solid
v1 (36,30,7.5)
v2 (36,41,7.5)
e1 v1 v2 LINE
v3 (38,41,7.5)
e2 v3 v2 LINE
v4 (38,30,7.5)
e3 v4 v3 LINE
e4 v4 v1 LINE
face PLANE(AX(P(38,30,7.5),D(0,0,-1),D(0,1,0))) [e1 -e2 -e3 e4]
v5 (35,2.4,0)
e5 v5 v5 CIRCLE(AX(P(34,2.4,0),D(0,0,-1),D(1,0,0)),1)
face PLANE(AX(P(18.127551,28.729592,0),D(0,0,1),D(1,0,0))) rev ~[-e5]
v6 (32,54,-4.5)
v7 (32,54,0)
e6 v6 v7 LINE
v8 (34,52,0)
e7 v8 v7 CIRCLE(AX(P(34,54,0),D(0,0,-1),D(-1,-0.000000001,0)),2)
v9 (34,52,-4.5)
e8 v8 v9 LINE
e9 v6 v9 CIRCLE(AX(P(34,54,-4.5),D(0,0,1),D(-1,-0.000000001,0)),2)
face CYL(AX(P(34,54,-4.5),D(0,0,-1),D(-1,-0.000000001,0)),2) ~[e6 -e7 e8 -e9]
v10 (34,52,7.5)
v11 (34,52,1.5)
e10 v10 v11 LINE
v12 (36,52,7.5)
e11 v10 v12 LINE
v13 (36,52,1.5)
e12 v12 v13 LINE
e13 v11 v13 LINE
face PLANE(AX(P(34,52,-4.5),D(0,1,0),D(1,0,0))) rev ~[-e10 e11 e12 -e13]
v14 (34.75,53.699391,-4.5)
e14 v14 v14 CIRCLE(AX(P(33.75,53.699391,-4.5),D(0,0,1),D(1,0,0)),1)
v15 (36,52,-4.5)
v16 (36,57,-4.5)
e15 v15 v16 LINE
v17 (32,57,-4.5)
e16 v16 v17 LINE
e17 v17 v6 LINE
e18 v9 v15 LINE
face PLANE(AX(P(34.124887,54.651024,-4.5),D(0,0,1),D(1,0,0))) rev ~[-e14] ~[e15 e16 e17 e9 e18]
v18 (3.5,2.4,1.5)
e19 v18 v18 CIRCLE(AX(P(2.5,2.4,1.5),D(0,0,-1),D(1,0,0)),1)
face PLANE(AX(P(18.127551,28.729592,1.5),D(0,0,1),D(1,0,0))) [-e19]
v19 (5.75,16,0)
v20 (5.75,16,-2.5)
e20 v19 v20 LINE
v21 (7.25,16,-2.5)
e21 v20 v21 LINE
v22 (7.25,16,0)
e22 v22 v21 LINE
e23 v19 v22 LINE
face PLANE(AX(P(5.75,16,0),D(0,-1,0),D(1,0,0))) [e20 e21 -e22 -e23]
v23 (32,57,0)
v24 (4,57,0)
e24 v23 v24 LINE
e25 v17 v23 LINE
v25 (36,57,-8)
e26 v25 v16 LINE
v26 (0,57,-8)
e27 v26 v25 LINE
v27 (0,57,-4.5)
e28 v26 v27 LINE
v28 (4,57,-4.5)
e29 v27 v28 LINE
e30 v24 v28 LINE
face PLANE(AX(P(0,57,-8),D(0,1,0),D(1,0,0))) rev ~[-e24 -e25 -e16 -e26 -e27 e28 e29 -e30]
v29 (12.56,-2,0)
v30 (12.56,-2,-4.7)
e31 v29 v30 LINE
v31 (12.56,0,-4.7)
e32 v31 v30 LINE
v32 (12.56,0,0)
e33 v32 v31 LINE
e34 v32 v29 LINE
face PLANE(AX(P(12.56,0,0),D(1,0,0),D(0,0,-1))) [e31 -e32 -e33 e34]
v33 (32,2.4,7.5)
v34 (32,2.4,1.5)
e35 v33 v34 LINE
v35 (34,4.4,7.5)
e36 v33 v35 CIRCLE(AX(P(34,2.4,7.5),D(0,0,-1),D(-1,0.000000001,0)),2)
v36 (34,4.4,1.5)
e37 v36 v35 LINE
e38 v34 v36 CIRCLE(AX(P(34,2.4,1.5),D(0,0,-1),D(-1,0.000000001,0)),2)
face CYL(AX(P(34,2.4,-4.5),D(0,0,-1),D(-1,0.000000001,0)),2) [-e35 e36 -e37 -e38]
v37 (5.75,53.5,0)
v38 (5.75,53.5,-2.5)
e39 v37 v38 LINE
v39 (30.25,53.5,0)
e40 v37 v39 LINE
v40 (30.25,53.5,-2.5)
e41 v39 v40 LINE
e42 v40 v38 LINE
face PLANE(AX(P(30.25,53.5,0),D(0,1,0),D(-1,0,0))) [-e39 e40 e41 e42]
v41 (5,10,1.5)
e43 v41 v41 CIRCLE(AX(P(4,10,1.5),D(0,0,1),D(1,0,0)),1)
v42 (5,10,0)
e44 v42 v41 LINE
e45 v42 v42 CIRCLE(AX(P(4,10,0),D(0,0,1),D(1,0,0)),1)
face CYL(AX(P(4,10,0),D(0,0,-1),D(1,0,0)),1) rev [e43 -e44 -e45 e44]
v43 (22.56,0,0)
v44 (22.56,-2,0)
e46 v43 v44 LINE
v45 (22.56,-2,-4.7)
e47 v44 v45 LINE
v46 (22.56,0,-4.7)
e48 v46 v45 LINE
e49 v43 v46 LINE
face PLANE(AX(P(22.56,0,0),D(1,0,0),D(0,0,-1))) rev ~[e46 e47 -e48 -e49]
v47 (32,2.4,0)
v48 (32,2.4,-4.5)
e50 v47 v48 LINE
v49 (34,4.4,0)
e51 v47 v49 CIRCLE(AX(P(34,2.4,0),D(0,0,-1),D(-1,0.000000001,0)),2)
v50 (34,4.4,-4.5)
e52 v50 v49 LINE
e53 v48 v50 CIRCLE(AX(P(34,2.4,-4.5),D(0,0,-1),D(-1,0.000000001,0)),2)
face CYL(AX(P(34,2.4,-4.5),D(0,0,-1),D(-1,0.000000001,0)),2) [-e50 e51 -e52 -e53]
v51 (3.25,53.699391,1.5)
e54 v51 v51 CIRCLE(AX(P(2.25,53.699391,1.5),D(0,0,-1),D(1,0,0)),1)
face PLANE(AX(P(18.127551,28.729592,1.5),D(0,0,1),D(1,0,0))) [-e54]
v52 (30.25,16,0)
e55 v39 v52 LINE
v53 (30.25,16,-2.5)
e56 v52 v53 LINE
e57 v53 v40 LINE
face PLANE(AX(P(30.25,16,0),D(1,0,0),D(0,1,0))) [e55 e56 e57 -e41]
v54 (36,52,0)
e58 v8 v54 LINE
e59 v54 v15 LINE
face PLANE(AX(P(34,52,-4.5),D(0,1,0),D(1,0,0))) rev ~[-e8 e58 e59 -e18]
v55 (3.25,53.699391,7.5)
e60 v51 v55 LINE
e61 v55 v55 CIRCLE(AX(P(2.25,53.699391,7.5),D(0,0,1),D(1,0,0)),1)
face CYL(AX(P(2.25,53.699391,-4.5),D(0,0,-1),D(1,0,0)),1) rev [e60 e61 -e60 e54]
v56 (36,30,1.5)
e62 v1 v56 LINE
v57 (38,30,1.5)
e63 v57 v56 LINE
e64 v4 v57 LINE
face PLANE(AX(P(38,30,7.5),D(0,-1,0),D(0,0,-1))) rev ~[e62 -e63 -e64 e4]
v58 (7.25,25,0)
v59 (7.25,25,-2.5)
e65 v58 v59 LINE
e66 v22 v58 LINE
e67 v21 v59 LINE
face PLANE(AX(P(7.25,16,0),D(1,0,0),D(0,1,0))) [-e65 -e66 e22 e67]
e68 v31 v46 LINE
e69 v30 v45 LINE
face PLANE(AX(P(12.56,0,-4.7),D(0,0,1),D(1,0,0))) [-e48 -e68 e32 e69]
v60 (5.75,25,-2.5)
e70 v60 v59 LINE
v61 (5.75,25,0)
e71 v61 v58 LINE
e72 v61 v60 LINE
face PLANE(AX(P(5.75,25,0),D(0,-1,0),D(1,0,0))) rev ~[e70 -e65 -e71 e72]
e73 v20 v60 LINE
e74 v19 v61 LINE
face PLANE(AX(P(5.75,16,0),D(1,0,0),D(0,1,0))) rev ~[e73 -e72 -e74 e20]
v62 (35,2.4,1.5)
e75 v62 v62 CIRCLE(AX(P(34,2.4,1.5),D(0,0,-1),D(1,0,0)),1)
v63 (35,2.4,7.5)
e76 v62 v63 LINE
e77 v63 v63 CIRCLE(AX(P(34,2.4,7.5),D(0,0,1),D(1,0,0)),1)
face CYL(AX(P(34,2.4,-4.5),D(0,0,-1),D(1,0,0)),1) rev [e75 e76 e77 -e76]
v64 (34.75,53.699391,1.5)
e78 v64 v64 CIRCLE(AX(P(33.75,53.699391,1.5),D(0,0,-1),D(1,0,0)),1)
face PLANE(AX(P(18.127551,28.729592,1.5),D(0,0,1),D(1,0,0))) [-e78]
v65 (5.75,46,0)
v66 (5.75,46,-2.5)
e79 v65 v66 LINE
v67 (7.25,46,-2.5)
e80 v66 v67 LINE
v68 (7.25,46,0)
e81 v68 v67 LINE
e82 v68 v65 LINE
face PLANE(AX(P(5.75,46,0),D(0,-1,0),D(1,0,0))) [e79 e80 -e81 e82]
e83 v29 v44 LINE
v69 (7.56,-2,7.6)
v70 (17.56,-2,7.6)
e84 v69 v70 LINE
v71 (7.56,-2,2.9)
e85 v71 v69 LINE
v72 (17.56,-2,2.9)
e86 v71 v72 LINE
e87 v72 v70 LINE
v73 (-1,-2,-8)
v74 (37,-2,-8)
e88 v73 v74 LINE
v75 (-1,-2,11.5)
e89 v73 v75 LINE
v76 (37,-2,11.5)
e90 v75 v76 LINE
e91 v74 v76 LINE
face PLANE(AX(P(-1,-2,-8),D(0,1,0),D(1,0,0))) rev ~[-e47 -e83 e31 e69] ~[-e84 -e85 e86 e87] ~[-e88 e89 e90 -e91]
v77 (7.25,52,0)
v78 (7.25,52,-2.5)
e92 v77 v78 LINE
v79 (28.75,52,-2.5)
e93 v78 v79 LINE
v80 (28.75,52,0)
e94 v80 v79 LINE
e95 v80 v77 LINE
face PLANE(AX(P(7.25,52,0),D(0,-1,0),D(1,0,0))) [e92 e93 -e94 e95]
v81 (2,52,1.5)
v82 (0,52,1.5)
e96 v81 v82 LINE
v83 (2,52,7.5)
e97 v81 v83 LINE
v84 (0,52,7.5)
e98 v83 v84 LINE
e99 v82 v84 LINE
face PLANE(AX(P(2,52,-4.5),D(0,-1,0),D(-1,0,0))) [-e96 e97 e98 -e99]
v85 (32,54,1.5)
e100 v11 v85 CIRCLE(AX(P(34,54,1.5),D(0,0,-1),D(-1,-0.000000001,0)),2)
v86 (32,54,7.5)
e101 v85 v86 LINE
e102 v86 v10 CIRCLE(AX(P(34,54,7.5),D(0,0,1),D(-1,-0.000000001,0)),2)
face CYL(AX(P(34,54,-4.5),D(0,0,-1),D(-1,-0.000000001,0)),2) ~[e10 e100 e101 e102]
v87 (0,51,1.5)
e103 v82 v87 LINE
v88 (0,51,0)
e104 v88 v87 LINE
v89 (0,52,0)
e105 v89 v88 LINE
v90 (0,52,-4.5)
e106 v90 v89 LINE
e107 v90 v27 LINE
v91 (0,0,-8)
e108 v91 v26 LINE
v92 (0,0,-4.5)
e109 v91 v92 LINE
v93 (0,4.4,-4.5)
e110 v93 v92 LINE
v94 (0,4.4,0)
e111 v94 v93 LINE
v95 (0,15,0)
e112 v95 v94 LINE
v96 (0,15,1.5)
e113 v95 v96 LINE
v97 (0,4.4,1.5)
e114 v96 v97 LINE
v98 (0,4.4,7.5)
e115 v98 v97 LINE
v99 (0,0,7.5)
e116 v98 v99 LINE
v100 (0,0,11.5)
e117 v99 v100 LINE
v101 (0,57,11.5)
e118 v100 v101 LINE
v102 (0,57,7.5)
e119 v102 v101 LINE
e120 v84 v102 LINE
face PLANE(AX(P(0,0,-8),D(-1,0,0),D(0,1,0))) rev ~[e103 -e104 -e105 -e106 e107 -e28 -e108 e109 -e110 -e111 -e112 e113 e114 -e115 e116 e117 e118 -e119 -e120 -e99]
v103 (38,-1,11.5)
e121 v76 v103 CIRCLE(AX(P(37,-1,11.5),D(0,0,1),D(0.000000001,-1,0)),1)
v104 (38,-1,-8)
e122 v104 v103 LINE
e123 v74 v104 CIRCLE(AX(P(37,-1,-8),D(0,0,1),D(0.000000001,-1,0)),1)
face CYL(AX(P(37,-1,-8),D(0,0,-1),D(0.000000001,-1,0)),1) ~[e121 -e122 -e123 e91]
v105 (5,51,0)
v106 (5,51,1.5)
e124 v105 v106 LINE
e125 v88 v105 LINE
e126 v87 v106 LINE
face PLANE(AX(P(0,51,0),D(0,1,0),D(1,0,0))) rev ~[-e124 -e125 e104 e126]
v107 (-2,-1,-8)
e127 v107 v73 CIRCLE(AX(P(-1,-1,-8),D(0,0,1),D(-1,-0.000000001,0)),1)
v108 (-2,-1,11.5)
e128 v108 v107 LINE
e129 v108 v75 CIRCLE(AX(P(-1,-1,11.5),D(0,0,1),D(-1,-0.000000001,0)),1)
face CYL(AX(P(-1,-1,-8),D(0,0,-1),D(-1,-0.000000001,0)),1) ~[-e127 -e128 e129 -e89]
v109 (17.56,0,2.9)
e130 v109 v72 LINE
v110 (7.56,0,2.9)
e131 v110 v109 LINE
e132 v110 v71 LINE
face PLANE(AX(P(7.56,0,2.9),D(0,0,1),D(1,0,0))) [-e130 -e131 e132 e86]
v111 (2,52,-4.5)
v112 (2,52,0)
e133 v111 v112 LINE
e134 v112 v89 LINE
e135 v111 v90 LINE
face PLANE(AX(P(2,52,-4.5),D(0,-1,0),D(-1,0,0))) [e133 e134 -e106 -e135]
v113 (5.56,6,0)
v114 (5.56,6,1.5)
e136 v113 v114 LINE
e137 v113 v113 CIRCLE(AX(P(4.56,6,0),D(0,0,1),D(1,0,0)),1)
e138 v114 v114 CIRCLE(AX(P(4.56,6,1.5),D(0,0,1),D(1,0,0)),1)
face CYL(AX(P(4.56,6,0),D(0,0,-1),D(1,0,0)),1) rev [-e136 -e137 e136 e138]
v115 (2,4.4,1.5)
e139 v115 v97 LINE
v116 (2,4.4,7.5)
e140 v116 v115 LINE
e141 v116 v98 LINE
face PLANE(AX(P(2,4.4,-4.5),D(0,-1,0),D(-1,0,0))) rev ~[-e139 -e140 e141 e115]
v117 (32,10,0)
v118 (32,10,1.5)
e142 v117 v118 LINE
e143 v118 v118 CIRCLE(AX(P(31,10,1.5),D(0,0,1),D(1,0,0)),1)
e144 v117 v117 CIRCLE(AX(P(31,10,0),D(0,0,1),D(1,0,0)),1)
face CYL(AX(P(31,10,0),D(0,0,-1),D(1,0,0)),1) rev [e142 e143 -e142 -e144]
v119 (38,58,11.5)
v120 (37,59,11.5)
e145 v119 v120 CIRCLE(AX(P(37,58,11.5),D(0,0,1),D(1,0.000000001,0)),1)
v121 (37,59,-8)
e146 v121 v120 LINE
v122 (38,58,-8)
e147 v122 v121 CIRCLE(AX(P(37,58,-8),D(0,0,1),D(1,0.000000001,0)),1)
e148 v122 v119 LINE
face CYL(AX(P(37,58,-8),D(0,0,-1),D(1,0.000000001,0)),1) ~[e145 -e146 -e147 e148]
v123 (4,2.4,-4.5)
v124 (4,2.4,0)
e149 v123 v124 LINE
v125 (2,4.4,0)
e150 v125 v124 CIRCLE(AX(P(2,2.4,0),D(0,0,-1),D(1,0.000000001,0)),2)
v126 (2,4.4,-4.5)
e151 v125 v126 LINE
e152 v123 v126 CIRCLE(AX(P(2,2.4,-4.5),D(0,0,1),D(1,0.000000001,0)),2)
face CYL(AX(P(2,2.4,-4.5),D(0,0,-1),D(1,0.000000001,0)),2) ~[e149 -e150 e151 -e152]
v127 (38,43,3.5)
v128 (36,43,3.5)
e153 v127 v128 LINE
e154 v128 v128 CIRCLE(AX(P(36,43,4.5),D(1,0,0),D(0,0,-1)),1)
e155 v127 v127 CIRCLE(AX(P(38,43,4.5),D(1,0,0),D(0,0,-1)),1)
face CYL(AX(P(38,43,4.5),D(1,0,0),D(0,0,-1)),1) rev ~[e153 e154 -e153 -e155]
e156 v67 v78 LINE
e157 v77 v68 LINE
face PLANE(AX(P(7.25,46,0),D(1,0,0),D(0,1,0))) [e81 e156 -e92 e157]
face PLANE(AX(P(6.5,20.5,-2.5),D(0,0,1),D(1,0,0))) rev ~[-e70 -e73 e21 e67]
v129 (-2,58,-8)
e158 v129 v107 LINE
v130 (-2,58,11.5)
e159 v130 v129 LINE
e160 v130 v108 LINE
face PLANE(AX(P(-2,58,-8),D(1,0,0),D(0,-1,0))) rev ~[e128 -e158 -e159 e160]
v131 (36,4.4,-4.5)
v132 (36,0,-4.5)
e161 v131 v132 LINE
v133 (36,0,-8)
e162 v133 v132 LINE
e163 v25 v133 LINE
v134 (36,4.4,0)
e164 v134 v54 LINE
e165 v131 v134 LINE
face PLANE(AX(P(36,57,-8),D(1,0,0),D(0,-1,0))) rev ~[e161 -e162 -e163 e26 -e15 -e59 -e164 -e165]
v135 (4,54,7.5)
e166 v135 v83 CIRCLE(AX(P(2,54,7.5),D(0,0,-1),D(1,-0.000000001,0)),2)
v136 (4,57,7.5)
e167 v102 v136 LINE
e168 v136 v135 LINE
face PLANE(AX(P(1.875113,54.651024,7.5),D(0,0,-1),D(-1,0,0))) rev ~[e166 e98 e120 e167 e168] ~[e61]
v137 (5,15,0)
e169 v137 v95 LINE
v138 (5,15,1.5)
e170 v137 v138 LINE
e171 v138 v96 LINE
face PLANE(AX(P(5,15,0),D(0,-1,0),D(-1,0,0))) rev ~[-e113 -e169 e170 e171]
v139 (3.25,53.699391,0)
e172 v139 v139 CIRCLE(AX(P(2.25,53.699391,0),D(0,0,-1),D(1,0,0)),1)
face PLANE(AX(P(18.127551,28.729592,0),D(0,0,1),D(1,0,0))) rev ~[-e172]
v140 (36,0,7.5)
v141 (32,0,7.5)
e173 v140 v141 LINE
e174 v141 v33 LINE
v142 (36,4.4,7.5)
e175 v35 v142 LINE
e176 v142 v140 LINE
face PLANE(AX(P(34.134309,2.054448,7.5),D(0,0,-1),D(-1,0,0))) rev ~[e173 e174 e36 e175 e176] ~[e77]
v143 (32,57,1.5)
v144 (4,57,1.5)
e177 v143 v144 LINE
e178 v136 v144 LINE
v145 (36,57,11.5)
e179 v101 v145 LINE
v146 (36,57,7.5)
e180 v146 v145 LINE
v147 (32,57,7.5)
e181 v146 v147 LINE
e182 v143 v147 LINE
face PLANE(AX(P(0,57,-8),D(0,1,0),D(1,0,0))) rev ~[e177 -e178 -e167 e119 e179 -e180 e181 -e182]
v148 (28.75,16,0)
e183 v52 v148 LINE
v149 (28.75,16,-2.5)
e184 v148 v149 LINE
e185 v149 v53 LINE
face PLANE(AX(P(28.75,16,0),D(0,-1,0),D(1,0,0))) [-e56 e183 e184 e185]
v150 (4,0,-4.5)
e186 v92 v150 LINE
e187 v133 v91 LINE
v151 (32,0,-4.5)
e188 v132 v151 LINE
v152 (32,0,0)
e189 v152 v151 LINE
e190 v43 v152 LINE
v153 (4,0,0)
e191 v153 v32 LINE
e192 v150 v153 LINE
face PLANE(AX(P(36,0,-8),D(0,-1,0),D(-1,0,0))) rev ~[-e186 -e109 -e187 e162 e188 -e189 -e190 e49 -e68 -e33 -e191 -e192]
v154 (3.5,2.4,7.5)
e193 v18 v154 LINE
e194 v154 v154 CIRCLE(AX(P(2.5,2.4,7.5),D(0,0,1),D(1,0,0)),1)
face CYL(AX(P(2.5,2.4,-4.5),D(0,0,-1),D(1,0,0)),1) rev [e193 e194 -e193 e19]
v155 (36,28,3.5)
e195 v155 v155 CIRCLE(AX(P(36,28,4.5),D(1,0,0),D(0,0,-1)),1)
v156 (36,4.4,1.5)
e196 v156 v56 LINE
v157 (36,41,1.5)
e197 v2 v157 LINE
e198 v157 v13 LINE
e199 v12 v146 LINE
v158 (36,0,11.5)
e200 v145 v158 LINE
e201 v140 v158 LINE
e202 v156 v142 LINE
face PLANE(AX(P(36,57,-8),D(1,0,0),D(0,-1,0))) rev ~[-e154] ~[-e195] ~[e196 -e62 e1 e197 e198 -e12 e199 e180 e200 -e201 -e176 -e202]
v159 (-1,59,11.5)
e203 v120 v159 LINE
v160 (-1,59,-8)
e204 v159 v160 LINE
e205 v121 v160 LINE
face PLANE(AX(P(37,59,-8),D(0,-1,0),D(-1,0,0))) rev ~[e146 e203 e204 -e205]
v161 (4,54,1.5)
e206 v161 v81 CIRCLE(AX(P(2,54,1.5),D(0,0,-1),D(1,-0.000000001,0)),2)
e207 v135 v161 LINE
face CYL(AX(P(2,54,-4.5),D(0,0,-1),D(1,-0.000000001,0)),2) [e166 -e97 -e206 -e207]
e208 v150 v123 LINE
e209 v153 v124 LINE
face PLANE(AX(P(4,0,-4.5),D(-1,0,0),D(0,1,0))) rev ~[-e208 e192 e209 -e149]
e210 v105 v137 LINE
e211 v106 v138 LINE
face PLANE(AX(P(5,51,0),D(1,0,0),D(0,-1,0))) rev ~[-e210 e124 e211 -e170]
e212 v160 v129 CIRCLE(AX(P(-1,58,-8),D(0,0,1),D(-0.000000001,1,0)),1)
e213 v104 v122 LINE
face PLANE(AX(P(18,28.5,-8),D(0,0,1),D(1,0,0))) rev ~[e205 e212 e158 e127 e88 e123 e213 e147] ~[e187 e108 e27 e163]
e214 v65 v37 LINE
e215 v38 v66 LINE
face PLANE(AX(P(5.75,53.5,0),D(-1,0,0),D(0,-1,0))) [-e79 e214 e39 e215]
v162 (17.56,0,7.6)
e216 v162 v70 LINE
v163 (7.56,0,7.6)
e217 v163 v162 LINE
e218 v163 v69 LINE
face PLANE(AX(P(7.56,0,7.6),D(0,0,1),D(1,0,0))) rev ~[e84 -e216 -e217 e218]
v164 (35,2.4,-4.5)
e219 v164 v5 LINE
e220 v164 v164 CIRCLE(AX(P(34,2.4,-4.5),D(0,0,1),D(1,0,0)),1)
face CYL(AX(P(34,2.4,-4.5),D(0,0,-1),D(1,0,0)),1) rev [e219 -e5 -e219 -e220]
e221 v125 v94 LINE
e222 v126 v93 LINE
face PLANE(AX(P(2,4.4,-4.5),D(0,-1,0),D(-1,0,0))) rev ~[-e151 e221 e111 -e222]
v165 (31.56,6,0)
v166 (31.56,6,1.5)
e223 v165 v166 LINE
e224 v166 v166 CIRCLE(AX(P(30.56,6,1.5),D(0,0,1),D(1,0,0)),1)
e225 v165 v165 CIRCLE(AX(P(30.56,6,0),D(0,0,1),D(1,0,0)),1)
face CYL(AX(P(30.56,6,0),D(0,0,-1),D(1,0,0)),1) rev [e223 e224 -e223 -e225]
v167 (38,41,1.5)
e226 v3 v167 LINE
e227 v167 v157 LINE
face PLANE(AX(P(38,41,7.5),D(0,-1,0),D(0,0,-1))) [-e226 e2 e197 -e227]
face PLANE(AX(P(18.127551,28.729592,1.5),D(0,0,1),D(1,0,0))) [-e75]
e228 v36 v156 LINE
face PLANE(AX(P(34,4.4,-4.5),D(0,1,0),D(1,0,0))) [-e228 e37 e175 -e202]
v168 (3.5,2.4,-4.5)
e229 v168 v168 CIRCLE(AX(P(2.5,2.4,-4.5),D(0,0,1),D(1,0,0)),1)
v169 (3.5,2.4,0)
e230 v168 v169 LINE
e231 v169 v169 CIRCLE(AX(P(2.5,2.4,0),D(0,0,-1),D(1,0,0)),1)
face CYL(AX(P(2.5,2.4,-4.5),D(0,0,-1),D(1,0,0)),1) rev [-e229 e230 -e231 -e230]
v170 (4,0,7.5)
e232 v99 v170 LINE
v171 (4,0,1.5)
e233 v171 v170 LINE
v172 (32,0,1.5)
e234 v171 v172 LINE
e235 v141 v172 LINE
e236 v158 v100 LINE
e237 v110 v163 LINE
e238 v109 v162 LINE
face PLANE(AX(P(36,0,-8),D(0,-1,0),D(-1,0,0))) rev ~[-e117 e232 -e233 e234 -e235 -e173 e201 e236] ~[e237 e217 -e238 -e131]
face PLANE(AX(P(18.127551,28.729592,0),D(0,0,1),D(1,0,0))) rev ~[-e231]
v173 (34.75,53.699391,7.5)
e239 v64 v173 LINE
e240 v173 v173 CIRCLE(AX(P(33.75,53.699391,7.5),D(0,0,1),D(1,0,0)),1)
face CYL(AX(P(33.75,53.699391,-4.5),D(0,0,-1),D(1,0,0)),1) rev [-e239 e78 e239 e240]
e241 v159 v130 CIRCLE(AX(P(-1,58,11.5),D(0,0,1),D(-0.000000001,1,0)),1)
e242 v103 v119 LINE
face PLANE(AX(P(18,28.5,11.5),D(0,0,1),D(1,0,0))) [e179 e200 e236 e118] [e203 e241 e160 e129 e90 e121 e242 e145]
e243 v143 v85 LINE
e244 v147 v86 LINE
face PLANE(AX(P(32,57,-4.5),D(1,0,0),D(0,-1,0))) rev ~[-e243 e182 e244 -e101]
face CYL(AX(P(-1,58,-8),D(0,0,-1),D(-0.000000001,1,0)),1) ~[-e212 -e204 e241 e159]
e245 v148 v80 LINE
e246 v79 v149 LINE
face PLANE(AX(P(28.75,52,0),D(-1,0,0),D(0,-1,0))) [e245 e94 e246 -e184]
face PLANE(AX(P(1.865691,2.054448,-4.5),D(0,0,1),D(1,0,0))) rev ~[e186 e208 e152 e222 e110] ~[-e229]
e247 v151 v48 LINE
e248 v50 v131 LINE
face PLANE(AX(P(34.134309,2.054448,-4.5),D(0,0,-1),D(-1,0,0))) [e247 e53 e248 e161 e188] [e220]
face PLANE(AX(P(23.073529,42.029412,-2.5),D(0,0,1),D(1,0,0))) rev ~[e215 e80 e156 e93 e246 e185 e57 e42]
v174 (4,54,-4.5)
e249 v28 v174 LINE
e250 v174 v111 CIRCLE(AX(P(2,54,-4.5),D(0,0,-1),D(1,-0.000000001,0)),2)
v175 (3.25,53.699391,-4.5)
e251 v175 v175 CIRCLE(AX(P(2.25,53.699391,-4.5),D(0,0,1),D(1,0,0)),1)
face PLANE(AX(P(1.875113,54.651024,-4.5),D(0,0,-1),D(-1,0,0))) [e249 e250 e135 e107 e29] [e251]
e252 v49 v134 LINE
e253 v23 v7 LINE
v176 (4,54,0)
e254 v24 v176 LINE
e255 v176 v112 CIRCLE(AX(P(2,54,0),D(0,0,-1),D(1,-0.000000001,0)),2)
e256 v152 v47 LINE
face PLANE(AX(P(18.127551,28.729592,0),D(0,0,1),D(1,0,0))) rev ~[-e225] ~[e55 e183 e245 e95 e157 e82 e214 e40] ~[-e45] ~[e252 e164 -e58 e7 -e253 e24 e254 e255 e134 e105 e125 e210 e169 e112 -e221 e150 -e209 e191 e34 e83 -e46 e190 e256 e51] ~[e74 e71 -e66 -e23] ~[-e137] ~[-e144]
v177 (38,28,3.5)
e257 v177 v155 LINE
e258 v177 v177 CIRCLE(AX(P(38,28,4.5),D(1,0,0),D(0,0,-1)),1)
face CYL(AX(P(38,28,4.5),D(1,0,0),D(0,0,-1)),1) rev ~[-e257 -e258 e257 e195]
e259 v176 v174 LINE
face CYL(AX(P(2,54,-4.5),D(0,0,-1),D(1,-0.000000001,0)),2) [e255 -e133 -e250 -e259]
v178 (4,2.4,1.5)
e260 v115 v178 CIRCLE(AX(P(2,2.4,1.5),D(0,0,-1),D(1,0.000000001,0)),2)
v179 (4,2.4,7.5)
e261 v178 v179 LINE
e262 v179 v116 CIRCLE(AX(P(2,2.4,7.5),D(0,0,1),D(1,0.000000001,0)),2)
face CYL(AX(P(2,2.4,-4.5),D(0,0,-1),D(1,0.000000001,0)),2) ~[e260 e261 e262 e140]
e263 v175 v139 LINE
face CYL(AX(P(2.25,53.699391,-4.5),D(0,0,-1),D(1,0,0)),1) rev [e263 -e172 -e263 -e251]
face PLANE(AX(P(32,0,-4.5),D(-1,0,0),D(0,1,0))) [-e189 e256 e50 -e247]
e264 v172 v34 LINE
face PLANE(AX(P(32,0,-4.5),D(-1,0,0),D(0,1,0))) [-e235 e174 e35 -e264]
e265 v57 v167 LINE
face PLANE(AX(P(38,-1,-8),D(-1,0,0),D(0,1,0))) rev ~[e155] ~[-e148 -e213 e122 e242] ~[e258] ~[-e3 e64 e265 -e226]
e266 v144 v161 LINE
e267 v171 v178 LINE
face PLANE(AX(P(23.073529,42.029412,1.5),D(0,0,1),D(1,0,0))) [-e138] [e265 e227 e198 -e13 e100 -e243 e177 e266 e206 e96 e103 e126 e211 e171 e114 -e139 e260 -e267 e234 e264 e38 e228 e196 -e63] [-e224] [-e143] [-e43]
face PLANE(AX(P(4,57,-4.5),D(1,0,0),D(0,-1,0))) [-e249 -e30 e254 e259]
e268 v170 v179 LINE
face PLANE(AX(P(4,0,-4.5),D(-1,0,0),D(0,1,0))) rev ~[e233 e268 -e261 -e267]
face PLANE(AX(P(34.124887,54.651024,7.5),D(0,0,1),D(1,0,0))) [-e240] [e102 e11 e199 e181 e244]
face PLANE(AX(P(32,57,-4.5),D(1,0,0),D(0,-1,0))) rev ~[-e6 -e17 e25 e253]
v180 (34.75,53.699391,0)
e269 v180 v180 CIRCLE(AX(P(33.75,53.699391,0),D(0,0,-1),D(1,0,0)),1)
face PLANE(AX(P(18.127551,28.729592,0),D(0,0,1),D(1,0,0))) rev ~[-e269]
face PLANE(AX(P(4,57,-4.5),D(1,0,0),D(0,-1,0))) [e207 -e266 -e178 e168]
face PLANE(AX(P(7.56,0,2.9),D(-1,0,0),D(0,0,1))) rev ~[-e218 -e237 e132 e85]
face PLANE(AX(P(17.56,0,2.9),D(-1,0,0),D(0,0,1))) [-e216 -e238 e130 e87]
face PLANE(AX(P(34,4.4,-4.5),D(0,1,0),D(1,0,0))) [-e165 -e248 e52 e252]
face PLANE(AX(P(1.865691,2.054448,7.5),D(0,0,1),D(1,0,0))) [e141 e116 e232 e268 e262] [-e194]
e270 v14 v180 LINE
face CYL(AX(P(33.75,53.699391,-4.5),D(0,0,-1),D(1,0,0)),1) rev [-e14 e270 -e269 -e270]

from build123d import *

# Parameters (mm, degrees)
SKETCH_2_R             = 1
EXTRUDE_2250_DEPTH     = 7.5
EXTRUDE_2250_2_DEPTH   = 7.5
EXTRUDE_2250_3_DEPTH   = 7.5
EXTRUDE_2250_4_DEPTH   = 7.5
EXTRUDE_START          = -4.5
SKETCH_2_5_R           = 1
EXTRUDE_2650_DEPTH     = 4.5
EXTRUDE_2650_2_DEPTH   = 4.5
EXTRUDE_2650_3_DEPTH   = 4.5
EXTRUDE_2650_4_DEPTH   = 4.5
EXTRUDE_2769_DEPTH     = 11.5
SKETCH_15_W            = 10
SKETCH_15_H            = 4.7
CUT_EXTRUDE_2936_DEPTH = 2
ESP32_START            = -8
ESP32_DEPTH            = 8
ESP32_3_W              = 10
ESP32_3_H              = 4.7
ESP32_2_DEPTH          = 2
SKETCH_1_29_R          = 1
SKETCH_1_29_W          = 1.5
SKETCH_1_29_H          = 9
EXTRUDE_3195_DEPTH     = 1.5
EXTRUDE_3_DEPTH        = 2.5
SKETCH_1_30_W          = 1.5
SKETCH_1_30_H          = 9
EXTRUDE_3_2_DEPTH      = 2.5
SKETCH_1_31_W          = 1.5
SKETCH_1_31_H          = 9
EXTRUDE_4_DEPTH        = 1.5
SKETCH_18_R            = 1
SKETCH_18_W            = 6
SKETCH_18_H            = 11
CUT_EXTRUDE_4645_DEPTH = 2


with BuildPart() as part:
    # 草图2 → Extrude 2250 (new body)
    with BuildSketch(Plane.XY):
        with BuildLine():
            Line((0, 0), (4, 0))
            Line((4, 0), (4, 2.4))
            ThreePointArc((4, 2.4), (3.414213562, 3.814213562), (2, 4.4))
            Line((2, 4.4), (0, 4.4))
            Line((0, 4.4), (0, 0))
        make_face()
        with Locations((2.5, 2.4)):
            Circle(SKETCH_2_R, mode=Mode.SUBTRACT)
    extrude(amount=EXTRUDE_2250_DEPTH)



with BuildPart() as body_2:
    # 草图2 → Extrude 2250 2 (new body)
    with BuildSketch(Plane.XY):
        with BuildLine():
            Line((36, 0), (32, 0))
            Line((32, 0), (32, 2.4))
            ThreePointArc((32, 2.4), (32.585786438, 3.814213562), (34, 4.4))
            Line((34, 4.4), (36, 4.4))
            Line((36, 4.4), (36, 0))
        make_face()
        with Locations((34, 2.4)):
            Circle(SKETCH_2_R, mode=Mode.SUBTRACT)
    extrude(amount=EXTRUDE_2250_2_DEPTH)


with BuildPart() as body_3:
    # 草图2 → Extrude 2250 3 (new body)
    with BuildSketch(Plane.XY):
        with BuildLine():
            Line((36, 57), (32, 57))
            Line((32, 57), (32, 54))
            ThreePointArc((32, 54), (32.585786438, 52.585786438), (34, 52))
            Line((34, 52), (36, 52))
            Line((36, 52), (36, 57))
        make_face()
        with Locations((33.75, 53.699390835)):
            Circle(SKETCH_2_R, mode=Mode.SUBTRACT)
    extrude(amount=EXTRUDE_2250_3_DEPTH)


with BuildPart() as body_4:
    # 草图2 → Extrude 2250 4 (new body)
    with BuildSketch(Plane.XY):
        with BuildLine():
            Line((0, 57), (4, 57))
            Line((4, 57), (4, 54))
            ThreePointArc((4, 54), (3.414213562, 52.585786438), (2, 52))
            Line((2, 52), (0, 52))
            Line((0, 52), (0, 57))
        make_face()
        with Locations((2.25, 53.699390835)):
            Circle(SKETCH_2_R, mode=Mode.SUBTRACT)
    extrude(amount=EXTRUDE_2250_4_DEPTH)


with BuildPart() as body_5:
    # 草图2<5> → Extrude 2650 (new body)
    with BuildSketch(Plane.XY.offset(EXTRUDE_START)):
        with BuildLine():
            Line((0, 0), (4, 0))
            Line((4, 0), (4, 2.4))
            ThreePointArc((4, 2.4), (3.414213562, 3.814213562), (2, 4.4))
            Line((2, 4.4), (0, 4.4))
            Line((0, 4.4), (0, 0))
        make_face()
        with Locations((2.5, 2.4)):
            Circle(SKETCH_2_5_R, mode=Mode.SUBTRACT)
    extrude(amount=EXTRUDE_2650_DEPTH)


with BuildPart() as body_6:
    # 草图2<5> → Extrude 2650 2 (new body)
    with BuildSketch(Plane.XY.offset(EXTRUDE_START)):
        with BuildLine():
            Line((36, 0), (32, 0))
            Line((32, 0), (32, 2.4))
            ThreePointArc((32, 2.4), (32.585786438, 3.814213562), (34, 4.4))
            Line((34, 4.4), (36, 4.4))
            Line((36, 4.4), (36, 0))
        make_face()
        with Locations((34, 2.4)):
            Circle(SKETCH_2_5_R, mode=Mode.SUBTRACT)
    extrude(amount=EXTRUDE_2650_2_DEPTH)


with BuildPart() as body_7:
    # 草图2<5> → Extrude 2650 3 (new body)
    with BuildSketch(Plane.XY.offset(EXTRUDE_START)):
        with BuildLine():
            Line((36, 57), (32, 57))
            Line((32, 57), (32, 54))
            ThreePointArc((32, 54), (32.585786438, 52.585786438), (34, 52))
            Line((34, 52), (36, 52))
            Line((36, 52), (36, 57))
        make_face()
        with Locations((33.75, 53.699390835)):
            Circle(SKETCH_2_5_R, mode=Mode.SUBTRACT)
    extrude(amount=EXTRUDE_2650_3_DEPTH)


with BuildPart() as body_8:
    # 草图2<5> → Extrude 2650 4 (new body)
    with BuildSketch(Plane.XY.offset(EXTRUDE_START)):
        with BuildLine():
            Line((0, 57), (4, 57))
            Line((4, 57), (4, 54))
            ThreePointArc((4, 54), (3.414213562, 52.585786438), (2, 52))
            Line((2, 52), (0, 52))
            Line((0, 52), (0, 57))
        make_face()
        with Locations((2.25, 53.699390835)):
            Circle(SKETCH_2_5_R, mode=Mode.SUBTRACT)
    extrude(amount=EXTRUDE_2650_4_DEPTH)


with BuildPart() as part_1:
    add(part.part)

    add(body_2.part)  # Extrude 2769 merges body 2

    add(body_3.part)  # Extrude 2769 merges body 3

    add(body_4.part)  # Extrude 2769 merges body 4

    add(body_5.part)  # Extrude 2769 merges body 5

    add(body_6.part)  # Extrude 2769 merges body 6

    add(body_7.part)  # Extrude 2769 merges body 7

    add(body_8.part)  # Extrude 2769 merges body 8
    # 草图1 → Extrude 2769 (add)
    with BuildSketch(Plane.XY):
        with BuildLine():
            ThreePointArc((-2, -1), (-1.707106781, -1.707106781), (-1, -2))
            Line((-1, -2), (37, -2))
            ThreePointArc((37, -2), (37.707106781, -1.707106781), (38, -1))
            Line((38, -1), (38, 58))
            ThreePointArc((38, 58), (37.707106781, 58.707106781), (37, 59))
            Line((37, 59), (-1, 59))
            ThreePointArc((-1, 59), (-1.707106781, 58.707106781), (-2, 58))
            Line((-2, 58), (-2, -1))
        make_face()
        Polygon((36, 0), (0, 0), (0, 15), (0, 51), (0, 57), (36, 57), align=None, mode=Mode.SUBTRACT)
    extrude(amount=EXTRUDE_2769_DEPTH)

    # 草图15 → Cut-Extrude 2936 (cut)
    with BuildSketch(Plane.XZ):
        with Locations((12.56, 5.25)):
            Rectangle(SKETCH_15_W, SKETCH_15_H)
    extrude(amount=CUT_EXTRUDE_2936_DEPTH, mode=Mode.SUBTRACT)

    # 草图1 regions → ESP32 (add)
    with BuildSketch(Plane.XY.offset(ESP32_START)):
        with BuildLine():
            ThreePointArc((-2, -1), (-1.707106781, -1.707106781), (-1, -2))
            Line((-1, -2), (37, -2))
            ThreePointArc((37, -2), (37.707106781, -1.707106781), (38, -1))
            Line((38, -1), (38, 58))
            ThreePointArc((38, 58), (37.707106781, 58.707106781), (37, 59))
            Line((37, 59), (-1, 59))
            ThreePointArc((-1, 59), (-1.707106781, 58.707106781), (-2, 58))
            Line((-2, 58), (-2, -1))
        make_face()
        Polygon((36, 0), (0, 0), (0, 15), (0, 51), (0, 57), (36, 57), align=None, mode=Mode.SUBTRACT)
    extrude(amount=ESP32_DEPTH)

    # ESP32 3 → ESP32 2 (cut)
    with BuildSketch(Plane(origin=(0, 0, 0), x_dir=(1, 0, 0), z_dir=(0, 1, 0))):
        with Locations((17.56, 2.35)):
            Rectangle(ESP32_3_W, ESP32_3_H)
    extrude(amount=-ESP32_2_DEPTH, mode=Mode.SUBTRACT)

    # 草图1<29> → Extrude 3195 (add)
    with BuildSketch(Plane.XY):
        Polygon((0, 15), (0, 0), (36, 0), (36, 57), (0, 57), (0, 51), (5, 51), (5, 15), align=None)
        with Locations((4.56, 6)):
            Circle(SKETCH_1_29_R, mode=Mode.SUBTRACT)
        with Locations((4, 10)):
            Circle(SKETCH_1_29_R, mode=Mode.SUBTRACT)
        with Locations((6.5, 20.5)):
            Rectangle(SKETCH_1_29_W, SKETCH_1_29_H, mode=Mode.SUBTRACT)
        with Locations((30.56, 6)):
            Circle(SKETCH_1_29_R, mode=Mode.SUBTRACT)
        with Locations((31, 10)):
            Circle(SKETCH_1_29_R, mode=Mode.SUBTRACT)
        Polygon((30.25, 16), (28.75, 16), (28.75, 52), (7.25, 52), (7.25, 46), (5.75, 46), (5.75, 53.5), (30.25, 53.5), (30.25, 52), align=None, mode=Mode.SUBTRACT)
    extrude(amount=EXTRUDE_3195_DEPTH)



with BuildPart() as body_2_2:
    # 草图1<30> → 凸台-拉伸3 (new body)
    with BuildSketch(Plane.XY):
        Polygon((5.75, 46), (7.25, 46), (7.25, 52), (28.75, 52), (28.75, 16), (30.25, 16), (30.25, 52), (30.25, 53.5), (5.75, 53.5), align=None)
    extrude(amount=-EXTRUDE_3_DEPTH)


with BuildPart() as body_3_2:
    # 草图1<30> → Extrude 3 2 (new body)
    with BuildSketch(Plane.XY):
        with Locations((6.5, 20.5)):
            Rectangle(SKETCH_1_30_W, SKETCH_1_30_H)
    extrude(amount=-EXTRUDE_3_2_DEPTH)


with BuildPart() as part_2:
    add(part_1.part)

    add(body_2_2.part)  # 凸台-拉伸4 merges body 2 2

    add(body_3_2.part)  # 凸台-拉伸4 merges body 3 2
    # 草图1<31> → 凸台-拉伸4 (add)
    with BuildSketch(Plane.XY):
        Polygon((28.75, 16), (30.25, 16), (30.25, 52), (30.25, 53.5), (5.75, 53.5), (5.75, 46), (7.25, 46), (7.25, 52), (28.75, 52), align=None)
        with Locations((6.5, 20.5)):
            Rectangle(SKETCH_1_31_W, SKETCH_1_31_H)
    extrude(amount=EXTRUDE_4_DEPTH)

    # 草图18 → Cut-Extrude 4645 (cut)
    with BuildSketch(Plane(origin=(38, 0, 0), x_dir=(0, 0, -1), z_dir=(1, 0, 0))):
        with Locations((-4.5, 43)):
            Circle(SKETCH_18_R)
        with Locations((-4.5, 28)):
            Circle(SKETCH_18_R)
        with Locations((-4.5, 35.5)):
            Rectangle(SKETCH_18_W, SKETCH_18_H)
    extrude(amount=-CUT_EXTRUDE_4645_DEPTH, mode=Mode.SUBTRACT)


solid = part_2.part
